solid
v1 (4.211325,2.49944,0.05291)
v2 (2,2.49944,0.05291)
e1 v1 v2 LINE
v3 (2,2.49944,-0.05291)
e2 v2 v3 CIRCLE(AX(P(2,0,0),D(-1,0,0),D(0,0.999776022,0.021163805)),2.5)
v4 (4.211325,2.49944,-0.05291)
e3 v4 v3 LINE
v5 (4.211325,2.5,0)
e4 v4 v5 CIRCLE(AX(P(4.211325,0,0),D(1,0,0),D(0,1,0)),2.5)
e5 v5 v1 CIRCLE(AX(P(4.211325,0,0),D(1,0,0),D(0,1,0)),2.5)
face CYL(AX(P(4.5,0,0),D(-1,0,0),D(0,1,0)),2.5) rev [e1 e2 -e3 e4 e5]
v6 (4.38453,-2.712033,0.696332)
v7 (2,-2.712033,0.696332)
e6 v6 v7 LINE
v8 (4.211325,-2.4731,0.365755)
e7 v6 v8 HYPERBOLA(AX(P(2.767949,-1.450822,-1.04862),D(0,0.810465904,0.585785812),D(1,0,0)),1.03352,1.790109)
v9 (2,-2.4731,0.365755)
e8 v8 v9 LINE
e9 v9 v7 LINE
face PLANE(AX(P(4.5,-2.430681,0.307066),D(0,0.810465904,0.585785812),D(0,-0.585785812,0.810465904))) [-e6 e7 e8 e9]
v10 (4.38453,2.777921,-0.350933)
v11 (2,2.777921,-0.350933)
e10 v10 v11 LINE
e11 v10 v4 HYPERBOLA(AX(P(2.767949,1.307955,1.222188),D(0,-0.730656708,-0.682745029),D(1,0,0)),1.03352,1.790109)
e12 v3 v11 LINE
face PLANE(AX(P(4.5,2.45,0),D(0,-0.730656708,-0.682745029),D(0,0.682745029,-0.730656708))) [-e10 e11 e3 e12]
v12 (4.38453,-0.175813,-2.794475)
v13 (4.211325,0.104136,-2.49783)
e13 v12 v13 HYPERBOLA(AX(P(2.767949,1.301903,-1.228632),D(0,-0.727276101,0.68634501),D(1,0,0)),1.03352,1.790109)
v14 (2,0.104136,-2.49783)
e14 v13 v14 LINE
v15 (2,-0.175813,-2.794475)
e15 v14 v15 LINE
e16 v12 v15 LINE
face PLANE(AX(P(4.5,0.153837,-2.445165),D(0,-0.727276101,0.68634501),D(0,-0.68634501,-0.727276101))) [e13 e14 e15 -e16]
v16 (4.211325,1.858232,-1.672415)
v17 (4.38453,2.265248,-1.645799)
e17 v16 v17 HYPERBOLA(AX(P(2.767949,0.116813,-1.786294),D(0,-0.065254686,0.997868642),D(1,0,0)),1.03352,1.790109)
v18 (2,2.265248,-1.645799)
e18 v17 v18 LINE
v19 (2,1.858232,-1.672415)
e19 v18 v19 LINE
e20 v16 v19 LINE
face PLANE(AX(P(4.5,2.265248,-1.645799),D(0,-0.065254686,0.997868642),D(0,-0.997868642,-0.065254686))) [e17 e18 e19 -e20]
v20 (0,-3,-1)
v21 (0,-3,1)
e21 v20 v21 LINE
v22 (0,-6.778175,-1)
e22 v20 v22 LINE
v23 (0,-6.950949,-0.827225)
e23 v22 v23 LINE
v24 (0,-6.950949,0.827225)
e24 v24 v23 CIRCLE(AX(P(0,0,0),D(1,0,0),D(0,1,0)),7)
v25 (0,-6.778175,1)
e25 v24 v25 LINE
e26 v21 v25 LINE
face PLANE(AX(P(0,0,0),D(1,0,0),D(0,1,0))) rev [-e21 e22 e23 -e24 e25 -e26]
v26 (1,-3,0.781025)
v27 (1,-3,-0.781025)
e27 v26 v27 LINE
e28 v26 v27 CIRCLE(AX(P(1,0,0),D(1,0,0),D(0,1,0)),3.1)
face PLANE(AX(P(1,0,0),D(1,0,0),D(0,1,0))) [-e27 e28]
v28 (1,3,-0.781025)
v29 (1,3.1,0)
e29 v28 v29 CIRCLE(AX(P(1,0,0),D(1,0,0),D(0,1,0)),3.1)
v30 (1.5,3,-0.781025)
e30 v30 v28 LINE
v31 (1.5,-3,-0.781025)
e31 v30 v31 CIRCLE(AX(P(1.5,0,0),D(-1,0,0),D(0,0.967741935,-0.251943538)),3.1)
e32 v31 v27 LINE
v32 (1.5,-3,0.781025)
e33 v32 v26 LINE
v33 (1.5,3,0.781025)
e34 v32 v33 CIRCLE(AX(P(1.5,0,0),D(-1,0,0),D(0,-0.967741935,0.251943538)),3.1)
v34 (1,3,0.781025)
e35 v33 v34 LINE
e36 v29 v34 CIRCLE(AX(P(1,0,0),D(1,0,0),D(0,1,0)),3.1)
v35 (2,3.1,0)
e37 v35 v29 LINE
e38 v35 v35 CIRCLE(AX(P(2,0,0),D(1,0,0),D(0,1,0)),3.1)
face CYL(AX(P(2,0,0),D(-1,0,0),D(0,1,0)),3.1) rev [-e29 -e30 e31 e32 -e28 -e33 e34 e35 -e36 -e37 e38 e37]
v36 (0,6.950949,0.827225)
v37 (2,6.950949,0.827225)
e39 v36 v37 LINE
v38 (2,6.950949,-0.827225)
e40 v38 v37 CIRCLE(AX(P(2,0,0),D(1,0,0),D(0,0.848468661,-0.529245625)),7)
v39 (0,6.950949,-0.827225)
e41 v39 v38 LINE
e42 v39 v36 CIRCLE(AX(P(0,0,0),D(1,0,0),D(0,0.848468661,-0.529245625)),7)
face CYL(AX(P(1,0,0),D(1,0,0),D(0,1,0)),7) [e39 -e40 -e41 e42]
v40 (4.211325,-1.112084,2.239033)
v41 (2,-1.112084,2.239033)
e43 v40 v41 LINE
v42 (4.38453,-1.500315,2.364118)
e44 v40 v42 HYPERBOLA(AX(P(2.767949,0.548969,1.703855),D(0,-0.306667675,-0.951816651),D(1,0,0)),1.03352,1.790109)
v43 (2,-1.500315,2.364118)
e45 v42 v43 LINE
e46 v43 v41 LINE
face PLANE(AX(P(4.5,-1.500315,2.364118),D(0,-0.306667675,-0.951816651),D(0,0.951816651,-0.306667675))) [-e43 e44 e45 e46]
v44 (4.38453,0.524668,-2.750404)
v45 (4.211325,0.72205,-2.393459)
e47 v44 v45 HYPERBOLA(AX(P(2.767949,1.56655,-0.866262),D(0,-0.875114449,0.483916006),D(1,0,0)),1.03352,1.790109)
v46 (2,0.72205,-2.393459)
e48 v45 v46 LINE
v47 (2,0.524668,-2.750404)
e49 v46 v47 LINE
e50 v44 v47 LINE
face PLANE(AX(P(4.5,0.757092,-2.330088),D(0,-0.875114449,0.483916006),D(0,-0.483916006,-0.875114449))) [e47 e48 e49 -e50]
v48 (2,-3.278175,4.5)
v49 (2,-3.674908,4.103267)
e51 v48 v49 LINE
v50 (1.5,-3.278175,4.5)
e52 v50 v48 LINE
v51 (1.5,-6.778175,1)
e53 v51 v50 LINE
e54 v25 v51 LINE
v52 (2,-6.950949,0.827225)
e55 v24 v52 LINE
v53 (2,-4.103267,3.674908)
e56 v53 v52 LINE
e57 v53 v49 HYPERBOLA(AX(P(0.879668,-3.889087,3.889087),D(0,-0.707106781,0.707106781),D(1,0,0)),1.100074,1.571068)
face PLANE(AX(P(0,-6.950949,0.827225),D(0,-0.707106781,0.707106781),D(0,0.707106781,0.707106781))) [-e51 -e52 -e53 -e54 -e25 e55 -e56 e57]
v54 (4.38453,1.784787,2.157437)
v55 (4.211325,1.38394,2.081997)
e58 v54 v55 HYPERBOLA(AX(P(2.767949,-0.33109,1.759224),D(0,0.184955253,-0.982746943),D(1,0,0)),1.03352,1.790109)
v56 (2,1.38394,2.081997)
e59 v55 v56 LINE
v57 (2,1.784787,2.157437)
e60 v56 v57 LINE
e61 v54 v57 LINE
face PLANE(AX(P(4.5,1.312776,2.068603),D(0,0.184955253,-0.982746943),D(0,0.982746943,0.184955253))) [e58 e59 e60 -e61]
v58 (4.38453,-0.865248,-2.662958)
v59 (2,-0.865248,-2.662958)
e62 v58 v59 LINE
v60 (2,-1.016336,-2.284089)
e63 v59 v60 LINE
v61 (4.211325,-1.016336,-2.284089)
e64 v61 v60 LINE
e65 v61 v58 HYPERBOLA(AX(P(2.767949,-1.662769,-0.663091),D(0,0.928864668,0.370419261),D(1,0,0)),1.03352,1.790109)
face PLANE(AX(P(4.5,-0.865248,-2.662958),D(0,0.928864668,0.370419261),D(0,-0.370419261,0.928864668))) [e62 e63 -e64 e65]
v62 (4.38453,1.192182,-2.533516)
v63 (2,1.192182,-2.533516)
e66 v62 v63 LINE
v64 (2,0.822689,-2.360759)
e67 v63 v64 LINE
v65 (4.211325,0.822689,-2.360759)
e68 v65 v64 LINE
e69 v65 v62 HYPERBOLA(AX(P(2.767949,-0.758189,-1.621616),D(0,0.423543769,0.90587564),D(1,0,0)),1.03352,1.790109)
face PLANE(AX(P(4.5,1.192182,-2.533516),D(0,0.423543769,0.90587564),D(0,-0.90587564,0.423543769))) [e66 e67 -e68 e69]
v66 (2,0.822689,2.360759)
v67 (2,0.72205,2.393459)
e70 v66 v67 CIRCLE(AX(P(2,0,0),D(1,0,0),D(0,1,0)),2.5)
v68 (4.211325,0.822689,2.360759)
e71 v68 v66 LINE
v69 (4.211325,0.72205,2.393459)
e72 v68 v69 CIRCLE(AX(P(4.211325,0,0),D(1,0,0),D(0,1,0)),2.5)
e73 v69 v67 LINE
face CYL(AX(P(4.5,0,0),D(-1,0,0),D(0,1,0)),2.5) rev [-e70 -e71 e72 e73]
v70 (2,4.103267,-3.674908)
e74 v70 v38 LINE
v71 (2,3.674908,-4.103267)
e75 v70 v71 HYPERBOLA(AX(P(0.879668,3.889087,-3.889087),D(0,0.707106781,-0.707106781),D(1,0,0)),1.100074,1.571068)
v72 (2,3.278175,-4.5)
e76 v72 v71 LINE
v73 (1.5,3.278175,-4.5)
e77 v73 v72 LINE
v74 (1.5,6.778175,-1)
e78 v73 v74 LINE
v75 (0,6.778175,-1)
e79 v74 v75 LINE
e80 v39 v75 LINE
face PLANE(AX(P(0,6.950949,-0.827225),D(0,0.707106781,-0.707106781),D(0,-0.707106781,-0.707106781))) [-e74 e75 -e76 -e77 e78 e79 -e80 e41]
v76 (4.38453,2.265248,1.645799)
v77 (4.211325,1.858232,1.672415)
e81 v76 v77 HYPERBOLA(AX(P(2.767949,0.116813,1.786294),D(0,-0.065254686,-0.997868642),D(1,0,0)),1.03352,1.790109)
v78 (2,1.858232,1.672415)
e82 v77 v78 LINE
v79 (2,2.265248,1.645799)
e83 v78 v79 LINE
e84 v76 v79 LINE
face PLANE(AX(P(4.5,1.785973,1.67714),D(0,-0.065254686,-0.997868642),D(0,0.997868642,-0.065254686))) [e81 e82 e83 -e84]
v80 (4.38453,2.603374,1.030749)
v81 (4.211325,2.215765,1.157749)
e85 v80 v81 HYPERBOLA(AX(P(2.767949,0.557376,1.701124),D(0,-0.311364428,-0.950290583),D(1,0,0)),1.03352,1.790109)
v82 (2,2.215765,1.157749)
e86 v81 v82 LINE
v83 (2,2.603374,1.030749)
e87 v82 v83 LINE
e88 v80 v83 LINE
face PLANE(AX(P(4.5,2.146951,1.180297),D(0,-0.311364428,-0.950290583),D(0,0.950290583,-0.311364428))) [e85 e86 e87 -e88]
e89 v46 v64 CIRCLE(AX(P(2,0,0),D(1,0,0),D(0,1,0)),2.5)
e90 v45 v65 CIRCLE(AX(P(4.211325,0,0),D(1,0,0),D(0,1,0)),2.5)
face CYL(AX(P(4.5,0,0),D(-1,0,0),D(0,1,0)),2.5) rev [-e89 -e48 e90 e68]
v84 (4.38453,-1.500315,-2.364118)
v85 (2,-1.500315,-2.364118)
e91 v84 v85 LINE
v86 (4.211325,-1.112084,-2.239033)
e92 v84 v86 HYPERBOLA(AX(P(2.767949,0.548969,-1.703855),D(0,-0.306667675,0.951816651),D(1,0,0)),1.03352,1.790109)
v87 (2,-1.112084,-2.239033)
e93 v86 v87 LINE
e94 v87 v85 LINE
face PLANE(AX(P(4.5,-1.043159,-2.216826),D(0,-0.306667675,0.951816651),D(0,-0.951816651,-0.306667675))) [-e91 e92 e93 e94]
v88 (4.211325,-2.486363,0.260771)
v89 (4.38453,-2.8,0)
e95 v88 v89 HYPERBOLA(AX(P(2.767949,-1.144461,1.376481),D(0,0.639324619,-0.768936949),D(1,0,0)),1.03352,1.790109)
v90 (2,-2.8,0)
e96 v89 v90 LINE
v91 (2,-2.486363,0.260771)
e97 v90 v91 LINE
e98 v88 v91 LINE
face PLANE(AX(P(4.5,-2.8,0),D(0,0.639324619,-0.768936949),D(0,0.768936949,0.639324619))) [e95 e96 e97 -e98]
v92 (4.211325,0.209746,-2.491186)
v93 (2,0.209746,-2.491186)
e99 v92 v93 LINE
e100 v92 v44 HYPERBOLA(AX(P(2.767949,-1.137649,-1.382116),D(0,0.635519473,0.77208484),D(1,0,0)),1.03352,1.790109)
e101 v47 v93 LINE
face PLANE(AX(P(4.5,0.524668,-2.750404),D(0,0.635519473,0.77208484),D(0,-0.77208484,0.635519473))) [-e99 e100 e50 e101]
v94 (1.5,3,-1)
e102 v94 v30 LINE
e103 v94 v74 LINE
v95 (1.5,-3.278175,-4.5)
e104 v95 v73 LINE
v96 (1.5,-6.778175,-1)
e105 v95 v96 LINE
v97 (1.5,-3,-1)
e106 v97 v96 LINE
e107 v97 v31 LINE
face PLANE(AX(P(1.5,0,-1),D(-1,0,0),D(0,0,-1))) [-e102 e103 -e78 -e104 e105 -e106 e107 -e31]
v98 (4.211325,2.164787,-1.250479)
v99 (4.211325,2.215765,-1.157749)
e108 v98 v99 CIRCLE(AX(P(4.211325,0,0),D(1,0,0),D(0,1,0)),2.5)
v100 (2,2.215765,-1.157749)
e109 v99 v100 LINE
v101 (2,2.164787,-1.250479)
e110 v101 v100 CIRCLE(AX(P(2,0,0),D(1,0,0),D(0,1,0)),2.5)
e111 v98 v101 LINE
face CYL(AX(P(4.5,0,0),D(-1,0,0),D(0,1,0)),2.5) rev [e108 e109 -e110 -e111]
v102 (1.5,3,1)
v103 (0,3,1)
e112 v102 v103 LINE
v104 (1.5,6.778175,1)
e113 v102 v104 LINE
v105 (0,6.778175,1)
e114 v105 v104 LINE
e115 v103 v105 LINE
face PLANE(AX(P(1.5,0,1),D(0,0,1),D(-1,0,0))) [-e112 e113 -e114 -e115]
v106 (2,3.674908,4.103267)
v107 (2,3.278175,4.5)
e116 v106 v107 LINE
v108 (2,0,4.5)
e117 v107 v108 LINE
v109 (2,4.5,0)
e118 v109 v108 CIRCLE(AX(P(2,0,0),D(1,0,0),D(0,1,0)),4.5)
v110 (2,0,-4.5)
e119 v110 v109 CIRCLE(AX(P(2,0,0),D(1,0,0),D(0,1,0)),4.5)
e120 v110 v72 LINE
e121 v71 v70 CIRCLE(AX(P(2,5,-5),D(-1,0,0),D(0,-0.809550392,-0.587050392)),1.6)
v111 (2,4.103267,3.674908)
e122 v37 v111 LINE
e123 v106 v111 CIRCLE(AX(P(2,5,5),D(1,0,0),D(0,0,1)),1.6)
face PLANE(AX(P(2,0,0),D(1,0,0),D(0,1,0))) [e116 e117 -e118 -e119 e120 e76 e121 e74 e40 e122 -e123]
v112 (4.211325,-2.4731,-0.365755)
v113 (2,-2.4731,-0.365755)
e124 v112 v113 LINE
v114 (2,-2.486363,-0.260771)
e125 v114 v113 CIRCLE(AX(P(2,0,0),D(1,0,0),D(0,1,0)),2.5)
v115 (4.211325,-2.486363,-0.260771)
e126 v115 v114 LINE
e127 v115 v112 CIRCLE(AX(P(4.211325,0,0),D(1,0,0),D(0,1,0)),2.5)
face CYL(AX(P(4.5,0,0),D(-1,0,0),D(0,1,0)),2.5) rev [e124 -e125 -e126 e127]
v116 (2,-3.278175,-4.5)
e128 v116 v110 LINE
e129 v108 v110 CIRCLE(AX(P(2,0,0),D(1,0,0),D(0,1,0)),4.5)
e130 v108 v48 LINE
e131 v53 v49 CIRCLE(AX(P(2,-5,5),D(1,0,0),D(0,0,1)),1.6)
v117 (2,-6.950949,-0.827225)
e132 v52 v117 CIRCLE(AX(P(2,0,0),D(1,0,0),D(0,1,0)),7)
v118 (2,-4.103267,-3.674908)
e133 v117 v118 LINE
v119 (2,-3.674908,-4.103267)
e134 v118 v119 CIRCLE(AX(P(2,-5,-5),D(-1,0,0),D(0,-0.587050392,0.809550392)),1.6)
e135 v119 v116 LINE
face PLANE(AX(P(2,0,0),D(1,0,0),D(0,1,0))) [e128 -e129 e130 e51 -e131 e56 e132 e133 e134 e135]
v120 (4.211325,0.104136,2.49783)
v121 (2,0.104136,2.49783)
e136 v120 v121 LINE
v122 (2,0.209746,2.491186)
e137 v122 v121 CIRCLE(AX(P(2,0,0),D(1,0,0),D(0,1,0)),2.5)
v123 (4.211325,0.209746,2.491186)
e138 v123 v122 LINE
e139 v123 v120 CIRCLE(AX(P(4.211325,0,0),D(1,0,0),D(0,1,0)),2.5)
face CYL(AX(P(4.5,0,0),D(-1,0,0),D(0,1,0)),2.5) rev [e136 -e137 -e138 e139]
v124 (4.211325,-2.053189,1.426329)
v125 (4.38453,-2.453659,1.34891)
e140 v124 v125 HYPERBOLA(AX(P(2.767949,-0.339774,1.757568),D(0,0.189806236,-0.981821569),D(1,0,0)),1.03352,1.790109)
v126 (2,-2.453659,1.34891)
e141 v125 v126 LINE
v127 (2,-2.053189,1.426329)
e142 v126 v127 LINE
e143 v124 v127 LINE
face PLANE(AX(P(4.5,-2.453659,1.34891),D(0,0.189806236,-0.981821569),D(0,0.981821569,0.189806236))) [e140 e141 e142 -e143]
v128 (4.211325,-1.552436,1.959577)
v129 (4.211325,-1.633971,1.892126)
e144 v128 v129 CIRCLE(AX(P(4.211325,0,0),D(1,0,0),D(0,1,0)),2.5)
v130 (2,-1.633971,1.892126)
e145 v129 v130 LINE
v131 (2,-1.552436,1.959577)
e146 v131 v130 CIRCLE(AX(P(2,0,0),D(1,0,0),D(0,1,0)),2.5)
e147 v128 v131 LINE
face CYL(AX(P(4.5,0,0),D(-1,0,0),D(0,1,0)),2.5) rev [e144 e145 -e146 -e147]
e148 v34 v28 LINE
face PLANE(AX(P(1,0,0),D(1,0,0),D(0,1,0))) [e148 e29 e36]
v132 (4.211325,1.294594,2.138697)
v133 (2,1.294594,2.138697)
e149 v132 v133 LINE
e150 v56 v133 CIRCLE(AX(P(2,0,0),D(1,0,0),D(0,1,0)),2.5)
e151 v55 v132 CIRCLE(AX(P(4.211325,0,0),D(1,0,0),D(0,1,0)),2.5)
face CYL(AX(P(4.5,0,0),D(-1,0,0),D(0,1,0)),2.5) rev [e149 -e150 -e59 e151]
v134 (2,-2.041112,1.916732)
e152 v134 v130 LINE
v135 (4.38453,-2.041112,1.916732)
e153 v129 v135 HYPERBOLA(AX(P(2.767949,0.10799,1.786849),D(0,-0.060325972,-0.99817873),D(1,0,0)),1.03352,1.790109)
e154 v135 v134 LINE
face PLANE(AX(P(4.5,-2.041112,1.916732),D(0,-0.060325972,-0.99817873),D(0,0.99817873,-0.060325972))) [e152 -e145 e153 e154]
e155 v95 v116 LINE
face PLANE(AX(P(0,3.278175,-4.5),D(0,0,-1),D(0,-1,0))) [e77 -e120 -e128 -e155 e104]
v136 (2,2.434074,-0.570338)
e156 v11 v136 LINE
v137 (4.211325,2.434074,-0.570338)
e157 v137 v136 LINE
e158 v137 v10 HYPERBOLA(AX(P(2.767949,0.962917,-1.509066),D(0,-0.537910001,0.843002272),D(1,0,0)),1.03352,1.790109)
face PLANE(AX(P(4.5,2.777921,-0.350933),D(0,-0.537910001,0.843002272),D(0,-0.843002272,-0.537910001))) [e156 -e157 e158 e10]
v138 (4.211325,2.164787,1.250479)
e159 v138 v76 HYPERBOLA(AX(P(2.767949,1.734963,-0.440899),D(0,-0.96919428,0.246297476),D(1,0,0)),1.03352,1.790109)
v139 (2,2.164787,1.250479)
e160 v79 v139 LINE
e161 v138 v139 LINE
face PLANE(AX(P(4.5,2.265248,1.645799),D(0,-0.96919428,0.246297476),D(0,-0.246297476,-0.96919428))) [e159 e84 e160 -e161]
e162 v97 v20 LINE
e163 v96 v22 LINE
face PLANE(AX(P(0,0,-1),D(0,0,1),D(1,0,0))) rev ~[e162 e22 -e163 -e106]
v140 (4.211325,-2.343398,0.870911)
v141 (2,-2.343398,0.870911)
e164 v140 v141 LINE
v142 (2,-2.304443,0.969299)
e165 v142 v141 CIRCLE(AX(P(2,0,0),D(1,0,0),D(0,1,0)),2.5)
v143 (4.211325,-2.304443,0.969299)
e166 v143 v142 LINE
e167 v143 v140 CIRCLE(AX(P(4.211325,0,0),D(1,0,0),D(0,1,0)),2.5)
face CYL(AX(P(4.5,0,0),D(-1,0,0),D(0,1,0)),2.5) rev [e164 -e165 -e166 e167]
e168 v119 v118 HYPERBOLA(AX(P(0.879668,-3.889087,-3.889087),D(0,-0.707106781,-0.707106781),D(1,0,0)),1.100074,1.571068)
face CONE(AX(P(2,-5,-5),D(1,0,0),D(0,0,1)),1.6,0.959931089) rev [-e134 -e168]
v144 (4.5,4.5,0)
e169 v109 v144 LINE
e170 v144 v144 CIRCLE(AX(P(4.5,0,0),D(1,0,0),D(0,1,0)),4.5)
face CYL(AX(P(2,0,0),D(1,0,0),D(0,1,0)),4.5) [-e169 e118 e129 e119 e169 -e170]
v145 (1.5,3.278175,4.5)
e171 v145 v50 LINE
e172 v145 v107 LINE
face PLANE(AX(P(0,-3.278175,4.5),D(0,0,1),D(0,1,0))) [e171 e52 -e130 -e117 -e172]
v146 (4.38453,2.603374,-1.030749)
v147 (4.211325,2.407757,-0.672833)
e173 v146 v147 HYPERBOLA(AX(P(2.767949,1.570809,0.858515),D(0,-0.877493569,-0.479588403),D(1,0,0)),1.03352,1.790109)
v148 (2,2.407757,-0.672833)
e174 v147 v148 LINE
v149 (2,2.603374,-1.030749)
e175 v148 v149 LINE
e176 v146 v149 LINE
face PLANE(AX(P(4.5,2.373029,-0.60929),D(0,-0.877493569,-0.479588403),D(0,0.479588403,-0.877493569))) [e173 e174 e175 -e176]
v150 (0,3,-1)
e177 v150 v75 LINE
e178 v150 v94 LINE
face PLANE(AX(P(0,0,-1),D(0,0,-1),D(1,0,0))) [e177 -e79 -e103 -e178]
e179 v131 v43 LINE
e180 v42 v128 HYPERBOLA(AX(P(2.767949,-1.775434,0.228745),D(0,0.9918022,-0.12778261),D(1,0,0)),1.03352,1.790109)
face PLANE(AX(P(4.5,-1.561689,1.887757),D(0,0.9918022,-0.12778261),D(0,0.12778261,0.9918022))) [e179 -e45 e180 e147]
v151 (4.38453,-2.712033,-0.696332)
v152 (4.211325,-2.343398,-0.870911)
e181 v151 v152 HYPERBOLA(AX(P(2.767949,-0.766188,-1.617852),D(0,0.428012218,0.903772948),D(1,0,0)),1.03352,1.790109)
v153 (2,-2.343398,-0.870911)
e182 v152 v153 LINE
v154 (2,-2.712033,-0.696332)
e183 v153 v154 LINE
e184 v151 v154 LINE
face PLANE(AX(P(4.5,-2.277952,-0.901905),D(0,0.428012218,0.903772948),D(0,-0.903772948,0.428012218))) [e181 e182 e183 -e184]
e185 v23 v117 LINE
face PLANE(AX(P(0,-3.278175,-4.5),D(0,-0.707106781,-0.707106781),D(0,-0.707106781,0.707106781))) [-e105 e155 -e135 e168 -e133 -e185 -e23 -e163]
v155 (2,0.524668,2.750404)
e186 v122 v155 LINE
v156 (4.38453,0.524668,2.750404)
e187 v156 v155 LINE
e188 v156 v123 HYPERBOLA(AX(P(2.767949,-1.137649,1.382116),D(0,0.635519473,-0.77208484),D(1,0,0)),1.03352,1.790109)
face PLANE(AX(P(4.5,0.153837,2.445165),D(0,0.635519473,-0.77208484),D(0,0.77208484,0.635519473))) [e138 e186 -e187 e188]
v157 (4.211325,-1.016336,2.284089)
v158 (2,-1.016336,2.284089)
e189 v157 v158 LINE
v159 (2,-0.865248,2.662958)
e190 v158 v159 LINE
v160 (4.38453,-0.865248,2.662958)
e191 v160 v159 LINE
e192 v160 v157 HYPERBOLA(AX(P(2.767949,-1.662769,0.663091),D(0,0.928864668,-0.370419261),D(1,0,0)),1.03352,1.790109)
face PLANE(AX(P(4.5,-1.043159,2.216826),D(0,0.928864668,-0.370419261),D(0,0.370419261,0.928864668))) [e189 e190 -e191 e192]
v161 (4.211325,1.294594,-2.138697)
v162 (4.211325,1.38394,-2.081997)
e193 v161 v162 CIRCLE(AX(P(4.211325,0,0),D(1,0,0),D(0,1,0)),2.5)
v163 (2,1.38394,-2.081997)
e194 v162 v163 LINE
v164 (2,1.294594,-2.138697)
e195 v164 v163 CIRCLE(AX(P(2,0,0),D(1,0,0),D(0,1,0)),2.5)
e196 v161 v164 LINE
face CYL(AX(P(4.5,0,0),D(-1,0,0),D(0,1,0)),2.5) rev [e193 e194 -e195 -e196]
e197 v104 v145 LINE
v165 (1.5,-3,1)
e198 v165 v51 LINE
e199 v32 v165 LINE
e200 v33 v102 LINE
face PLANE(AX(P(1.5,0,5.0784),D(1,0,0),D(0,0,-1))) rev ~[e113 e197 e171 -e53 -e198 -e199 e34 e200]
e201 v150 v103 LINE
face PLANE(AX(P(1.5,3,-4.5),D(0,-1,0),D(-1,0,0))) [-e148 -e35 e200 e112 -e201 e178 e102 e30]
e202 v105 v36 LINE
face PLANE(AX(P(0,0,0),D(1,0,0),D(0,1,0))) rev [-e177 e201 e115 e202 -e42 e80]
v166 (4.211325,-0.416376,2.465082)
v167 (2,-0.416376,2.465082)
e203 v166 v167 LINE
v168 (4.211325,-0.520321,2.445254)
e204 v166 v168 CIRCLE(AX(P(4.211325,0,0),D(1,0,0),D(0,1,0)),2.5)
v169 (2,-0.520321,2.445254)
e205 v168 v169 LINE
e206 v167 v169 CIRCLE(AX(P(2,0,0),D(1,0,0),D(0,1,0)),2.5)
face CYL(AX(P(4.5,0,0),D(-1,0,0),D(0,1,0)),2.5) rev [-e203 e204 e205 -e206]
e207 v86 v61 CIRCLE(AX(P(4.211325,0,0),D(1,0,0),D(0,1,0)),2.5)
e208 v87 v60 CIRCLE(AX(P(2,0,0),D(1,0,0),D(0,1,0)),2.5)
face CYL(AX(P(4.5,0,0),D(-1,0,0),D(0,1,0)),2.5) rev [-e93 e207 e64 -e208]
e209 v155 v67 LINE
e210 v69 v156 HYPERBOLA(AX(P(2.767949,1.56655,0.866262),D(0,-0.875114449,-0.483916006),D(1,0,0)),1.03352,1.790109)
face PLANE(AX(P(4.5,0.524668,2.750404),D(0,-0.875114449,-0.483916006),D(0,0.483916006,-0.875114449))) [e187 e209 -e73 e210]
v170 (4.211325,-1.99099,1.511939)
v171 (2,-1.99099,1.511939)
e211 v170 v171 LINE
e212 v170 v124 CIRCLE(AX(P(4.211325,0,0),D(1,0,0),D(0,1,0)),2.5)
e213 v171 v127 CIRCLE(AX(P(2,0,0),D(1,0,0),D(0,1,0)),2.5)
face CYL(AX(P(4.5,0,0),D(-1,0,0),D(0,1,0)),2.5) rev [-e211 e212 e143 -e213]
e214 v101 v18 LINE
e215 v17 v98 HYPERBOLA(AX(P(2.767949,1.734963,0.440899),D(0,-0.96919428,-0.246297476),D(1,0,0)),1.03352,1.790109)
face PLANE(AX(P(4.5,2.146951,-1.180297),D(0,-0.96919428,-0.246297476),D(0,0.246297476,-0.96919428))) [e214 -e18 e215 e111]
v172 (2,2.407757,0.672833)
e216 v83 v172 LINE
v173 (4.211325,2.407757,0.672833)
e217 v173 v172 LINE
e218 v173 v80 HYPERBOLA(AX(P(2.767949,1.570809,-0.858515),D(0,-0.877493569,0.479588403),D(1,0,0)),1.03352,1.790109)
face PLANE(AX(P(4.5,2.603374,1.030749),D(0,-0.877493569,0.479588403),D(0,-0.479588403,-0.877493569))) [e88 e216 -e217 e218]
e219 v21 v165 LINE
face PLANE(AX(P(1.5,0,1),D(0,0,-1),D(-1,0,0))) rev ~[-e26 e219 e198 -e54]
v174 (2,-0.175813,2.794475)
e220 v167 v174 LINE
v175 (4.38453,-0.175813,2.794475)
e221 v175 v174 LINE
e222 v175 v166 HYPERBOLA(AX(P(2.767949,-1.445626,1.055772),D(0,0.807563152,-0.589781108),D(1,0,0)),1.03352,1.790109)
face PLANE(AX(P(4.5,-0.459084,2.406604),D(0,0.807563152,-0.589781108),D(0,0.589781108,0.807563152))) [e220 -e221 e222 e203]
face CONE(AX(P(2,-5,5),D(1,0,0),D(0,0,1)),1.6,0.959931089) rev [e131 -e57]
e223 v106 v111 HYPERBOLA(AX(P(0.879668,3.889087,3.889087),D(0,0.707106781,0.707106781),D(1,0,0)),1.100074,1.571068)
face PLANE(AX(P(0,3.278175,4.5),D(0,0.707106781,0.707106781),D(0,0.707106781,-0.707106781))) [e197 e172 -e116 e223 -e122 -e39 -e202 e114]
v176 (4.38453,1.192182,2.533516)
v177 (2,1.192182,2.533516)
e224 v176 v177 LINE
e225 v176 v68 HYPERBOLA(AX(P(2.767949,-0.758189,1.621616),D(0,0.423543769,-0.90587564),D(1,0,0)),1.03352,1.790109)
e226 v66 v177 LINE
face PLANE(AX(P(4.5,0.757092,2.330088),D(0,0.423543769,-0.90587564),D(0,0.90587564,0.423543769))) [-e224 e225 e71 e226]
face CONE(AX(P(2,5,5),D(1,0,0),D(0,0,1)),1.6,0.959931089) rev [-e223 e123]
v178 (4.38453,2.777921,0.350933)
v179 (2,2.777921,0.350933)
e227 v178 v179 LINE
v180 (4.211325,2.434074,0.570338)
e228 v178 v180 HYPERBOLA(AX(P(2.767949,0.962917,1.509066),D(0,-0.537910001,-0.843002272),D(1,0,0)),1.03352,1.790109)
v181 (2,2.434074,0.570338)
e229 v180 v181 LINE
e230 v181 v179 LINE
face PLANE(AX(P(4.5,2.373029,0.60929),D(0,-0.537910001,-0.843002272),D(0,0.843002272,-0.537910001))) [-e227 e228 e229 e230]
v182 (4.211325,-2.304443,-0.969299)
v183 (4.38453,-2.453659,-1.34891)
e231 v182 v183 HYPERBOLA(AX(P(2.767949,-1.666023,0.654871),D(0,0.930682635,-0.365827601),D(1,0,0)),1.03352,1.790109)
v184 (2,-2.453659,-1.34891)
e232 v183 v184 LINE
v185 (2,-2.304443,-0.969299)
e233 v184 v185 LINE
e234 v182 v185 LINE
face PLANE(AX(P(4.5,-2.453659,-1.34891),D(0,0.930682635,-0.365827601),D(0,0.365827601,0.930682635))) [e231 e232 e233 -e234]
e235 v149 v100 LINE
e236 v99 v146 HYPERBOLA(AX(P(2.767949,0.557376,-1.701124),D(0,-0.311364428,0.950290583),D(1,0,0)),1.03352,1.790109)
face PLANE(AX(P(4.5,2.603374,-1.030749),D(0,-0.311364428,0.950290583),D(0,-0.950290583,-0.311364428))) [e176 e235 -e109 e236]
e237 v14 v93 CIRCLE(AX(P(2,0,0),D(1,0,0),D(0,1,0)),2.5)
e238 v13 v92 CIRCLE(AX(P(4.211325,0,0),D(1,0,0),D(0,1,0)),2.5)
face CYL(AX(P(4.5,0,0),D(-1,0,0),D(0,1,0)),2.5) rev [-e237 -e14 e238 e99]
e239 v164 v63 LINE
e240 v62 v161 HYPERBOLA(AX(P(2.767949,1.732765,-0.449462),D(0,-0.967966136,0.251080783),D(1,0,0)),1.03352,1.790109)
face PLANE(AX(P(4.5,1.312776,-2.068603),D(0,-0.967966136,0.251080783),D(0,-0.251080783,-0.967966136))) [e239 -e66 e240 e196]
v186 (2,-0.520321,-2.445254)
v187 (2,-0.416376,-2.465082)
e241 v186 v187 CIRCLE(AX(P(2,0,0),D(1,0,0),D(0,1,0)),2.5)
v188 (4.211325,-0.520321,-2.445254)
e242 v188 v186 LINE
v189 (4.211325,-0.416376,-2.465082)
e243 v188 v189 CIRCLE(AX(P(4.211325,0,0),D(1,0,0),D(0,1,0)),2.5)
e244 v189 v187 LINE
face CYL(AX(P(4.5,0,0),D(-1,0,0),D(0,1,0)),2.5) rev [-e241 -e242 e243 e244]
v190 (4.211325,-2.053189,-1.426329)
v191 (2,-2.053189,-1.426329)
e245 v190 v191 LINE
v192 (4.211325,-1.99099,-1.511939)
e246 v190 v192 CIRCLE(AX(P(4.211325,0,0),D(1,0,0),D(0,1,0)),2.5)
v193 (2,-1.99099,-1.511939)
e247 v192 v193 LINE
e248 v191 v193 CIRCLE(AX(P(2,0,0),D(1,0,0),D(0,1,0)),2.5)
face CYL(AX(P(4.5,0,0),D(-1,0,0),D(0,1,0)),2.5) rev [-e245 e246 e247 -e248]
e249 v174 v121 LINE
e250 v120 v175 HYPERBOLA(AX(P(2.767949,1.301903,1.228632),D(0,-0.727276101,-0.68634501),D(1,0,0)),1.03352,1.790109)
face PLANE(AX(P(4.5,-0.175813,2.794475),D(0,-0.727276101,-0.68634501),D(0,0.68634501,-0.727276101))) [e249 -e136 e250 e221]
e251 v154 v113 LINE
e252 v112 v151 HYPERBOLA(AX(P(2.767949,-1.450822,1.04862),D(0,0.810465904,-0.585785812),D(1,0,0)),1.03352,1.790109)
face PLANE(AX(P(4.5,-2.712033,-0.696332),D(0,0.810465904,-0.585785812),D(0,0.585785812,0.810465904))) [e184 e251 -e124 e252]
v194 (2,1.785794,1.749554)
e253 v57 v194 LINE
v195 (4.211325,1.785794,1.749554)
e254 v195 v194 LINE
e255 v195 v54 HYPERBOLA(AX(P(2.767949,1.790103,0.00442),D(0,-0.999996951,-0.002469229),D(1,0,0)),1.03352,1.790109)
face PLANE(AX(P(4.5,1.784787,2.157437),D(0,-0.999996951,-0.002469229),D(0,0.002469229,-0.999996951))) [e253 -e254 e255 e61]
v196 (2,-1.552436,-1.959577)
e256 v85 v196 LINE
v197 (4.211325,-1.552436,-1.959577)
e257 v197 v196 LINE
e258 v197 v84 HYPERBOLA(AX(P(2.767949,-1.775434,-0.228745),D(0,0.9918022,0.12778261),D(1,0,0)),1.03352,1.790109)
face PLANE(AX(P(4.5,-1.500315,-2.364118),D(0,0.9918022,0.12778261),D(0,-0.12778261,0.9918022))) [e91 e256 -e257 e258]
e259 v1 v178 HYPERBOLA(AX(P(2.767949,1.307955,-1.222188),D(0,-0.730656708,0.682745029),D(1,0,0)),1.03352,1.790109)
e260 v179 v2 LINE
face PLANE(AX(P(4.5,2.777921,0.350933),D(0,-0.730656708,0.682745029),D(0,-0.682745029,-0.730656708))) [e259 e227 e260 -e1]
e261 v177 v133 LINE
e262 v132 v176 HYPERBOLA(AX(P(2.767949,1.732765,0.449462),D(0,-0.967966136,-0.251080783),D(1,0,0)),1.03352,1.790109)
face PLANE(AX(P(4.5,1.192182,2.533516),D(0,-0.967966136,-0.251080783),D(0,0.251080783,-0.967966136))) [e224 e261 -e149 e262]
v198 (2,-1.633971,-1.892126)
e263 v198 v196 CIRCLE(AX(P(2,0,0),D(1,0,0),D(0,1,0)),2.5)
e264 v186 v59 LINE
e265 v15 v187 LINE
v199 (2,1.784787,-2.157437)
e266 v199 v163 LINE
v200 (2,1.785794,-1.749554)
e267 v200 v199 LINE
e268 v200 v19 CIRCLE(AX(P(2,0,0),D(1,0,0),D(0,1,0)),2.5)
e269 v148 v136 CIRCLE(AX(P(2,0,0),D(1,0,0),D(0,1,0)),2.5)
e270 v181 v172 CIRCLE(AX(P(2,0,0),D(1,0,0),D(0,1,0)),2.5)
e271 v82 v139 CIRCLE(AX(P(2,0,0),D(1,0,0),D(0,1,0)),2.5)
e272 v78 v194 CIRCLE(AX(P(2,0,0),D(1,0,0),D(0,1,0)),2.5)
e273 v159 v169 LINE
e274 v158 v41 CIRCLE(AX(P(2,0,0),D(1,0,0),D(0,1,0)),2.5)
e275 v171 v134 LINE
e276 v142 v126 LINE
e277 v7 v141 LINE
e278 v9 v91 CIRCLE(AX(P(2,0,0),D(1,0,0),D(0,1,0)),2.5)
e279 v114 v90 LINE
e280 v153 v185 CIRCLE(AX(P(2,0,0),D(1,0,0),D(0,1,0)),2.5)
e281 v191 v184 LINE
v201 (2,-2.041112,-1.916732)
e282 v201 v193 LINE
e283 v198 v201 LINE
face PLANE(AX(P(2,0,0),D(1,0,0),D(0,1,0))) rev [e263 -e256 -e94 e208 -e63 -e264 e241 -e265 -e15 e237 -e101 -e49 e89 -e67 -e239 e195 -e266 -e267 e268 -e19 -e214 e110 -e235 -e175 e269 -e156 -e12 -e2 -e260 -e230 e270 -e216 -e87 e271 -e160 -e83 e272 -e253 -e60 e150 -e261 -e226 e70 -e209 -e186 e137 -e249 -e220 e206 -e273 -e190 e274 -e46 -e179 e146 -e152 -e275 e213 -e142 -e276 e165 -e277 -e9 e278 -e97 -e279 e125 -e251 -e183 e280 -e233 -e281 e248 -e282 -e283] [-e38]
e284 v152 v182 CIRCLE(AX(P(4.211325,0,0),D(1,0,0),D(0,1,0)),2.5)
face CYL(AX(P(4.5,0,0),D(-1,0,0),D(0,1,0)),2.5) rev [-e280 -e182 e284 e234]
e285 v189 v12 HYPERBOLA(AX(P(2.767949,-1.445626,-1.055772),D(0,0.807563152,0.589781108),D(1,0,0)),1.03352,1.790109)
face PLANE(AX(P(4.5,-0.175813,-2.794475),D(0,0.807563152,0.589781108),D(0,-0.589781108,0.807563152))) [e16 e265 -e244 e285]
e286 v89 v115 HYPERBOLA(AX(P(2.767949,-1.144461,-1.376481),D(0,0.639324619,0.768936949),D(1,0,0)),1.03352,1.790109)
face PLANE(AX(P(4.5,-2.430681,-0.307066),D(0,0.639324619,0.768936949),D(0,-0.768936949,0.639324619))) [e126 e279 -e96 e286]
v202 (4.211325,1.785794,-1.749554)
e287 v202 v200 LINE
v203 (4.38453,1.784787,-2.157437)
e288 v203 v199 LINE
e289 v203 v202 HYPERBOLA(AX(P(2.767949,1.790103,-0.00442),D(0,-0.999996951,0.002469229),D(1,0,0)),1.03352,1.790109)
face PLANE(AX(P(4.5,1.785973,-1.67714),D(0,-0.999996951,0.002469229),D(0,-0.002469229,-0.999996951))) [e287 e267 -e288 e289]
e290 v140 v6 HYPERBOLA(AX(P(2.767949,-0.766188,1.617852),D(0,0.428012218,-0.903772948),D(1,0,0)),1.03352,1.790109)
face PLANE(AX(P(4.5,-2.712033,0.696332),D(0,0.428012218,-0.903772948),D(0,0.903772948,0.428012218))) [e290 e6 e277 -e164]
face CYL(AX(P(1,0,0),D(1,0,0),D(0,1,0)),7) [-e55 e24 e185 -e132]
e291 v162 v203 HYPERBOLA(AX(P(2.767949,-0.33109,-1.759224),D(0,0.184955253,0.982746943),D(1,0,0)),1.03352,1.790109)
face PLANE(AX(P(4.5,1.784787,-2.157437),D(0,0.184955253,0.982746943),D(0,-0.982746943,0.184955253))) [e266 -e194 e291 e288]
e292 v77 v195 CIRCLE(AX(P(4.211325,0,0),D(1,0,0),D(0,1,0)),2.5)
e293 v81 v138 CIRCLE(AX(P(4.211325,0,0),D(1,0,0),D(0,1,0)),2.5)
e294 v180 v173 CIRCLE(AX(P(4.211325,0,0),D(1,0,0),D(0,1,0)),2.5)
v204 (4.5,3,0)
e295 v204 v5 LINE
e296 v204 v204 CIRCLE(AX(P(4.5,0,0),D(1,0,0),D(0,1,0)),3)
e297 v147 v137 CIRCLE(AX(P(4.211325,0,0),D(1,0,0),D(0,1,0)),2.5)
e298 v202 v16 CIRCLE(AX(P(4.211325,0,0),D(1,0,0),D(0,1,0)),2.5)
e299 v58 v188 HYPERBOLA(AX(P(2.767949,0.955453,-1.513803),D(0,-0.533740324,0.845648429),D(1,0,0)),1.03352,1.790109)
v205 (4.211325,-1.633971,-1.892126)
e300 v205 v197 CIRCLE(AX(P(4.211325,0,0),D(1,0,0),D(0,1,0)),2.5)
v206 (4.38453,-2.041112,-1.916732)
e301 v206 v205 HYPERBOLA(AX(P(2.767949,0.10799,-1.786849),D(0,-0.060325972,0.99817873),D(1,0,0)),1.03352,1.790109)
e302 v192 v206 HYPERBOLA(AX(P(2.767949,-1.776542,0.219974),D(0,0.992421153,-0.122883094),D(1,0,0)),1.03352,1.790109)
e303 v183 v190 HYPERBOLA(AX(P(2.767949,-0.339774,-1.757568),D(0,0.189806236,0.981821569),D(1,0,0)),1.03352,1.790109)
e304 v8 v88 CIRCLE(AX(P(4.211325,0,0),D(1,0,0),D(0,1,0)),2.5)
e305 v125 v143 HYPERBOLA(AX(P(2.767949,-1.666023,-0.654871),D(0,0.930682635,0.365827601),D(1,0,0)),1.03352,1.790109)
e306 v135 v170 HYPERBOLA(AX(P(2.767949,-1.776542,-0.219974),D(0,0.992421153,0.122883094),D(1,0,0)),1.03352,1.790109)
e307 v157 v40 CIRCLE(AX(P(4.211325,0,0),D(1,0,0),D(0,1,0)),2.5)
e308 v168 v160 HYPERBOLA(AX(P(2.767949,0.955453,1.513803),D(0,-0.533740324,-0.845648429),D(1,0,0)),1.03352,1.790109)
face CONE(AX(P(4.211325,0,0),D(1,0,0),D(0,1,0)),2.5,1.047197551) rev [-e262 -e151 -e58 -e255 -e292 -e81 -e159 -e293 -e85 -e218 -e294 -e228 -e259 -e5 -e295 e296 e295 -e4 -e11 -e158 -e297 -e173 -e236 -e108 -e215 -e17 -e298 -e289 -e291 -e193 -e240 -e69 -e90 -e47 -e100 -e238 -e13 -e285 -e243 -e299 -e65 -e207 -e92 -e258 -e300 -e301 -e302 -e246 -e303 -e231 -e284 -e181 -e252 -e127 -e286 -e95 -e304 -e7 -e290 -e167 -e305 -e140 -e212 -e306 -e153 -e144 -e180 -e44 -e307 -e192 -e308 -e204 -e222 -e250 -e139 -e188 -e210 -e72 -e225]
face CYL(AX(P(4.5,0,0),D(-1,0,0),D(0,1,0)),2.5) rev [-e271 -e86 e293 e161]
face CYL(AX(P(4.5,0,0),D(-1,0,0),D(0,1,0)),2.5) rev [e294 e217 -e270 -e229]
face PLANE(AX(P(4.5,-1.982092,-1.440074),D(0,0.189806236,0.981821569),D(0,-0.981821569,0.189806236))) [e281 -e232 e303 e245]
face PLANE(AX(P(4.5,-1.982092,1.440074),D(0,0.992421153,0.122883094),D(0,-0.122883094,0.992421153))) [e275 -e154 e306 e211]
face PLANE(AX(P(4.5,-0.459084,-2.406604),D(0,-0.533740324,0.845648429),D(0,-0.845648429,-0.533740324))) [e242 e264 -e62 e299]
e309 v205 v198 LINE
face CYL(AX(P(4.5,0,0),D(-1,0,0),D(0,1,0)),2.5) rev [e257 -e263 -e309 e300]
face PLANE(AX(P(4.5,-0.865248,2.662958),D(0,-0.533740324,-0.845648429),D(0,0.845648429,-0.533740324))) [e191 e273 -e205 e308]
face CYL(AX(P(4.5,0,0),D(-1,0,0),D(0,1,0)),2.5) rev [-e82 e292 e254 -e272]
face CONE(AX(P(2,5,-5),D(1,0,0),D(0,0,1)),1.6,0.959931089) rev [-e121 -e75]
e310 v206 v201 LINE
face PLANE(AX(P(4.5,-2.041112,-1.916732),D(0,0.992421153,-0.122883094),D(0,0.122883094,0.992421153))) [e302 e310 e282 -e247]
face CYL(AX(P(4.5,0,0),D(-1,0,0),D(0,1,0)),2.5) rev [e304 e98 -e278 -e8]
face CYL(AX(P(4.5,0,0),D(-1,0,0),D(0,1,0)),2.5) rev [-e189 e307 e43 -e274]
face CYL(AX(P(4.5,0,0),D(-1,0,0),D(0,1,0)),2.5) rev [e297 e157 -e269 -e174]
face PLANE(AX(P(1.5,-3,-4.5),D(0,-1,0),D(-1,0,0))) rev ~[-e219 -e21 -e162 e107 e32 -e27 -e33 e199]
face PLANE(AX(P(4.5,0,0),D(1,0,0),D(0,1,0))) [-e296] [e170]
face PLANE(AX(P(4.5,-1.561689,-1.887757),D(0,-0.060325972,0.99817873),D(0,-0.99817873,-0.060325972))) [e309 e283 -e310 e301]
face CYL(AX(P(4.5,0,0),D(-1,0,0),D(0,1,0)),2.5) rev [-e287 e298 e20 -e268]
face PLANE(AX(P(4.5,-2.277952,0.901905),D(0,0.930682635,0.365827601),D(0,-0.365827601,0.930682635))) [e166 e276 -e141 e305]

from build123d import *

# Parameters (mm, degrees)
CHAMFER_1_SIZE           = 0.5
CHAMFER_1_SIZE2          = 0.288675135
CUT_EXTRUDE_1_DEPTH      = 2.5
M3X0_51_AT_2_COUNT       = 2
M3X0_51_AT_2_PITCH       = 10
M3X0_51_AT_3_COUNT       = 2
M3X0_51_AT_3_PITCH       = 14.142135624
M3X0_51_AT_4_COUNT       = 2
M3X0_51_AT_4_PITCH       = 10
SKETCH_7_W               = 2
SKETCH_7_H               = 3
SKETCH_8_OUTSIDE_W       = 20.06
SKETCH_8_OUTSIDE_H       = 20.06
CUT_EXTRUDE_2_DEPTH      = 2.2
SKETCH_9_W               = 1.5
SKETCH_9_H               = 6
CUT_EXTRUDE_3_DEPTH      = 10
CUT_EXTRUDE_4_DEPTH      = 8
CUT_EXTRUDE_4_DEPTH_BACK = 8


with BuildPart() as part:
    # Эскиз1 → Повернуть1 (revolve)
    with BuildSketch(Plane.XY):
        Polygon((0, 1.5), (0, 10), (2, 10), (2, 4.5), (4.5, 4.5), (4.5, 2.5), (2, 2.5), (2, 3.1), (1, 3.1), (1, 1.5), align=None)
    revolve(axis=Axis((0, 0, 0), (1, 0, 0)))

    # Фаска1
    chamfer_1_edges = [part.edges().sort_by_distance(p)[0] for p in [
        (4.5, -2.5, 0),
    ]]
    chamfer_1_side = [part.faces().sort_by_distance(p)[0] for p in [
        (4.5, -4.372720779, 0),
    ]]
    chamfer(chamfer_1_edges, length=CHAMFER_1_SIZE, length2=CHAMFER_1_SIZE2, reference=chamfer_1_side[0])

    # Эскиз3 → Вырез-Вытянуть1 (cut)
    with BuildSketch(Plane(origin=(4.5, 0, 0), x_dir=(0, 0, -1), z_dir=(1, 0, 0))):
        Polygon((0, 2.45), (0.350933054, 2.777921164), (0.609290224, 2.373028745), (1.030748748, 2.60337416), (1.180296502, 2.146951366), (1.645798706, 2.265247584), (1.67714041, 1.785973137), (2.15743708, 1.784787171), (2.068603417, 1.312775648), (2.533515747, 1.192182016), (2.330088465, 0.757091636), (2.750404302, 0.524667681), (2.445165485, 0.153836773), (2.79447484, -0.175813455), (2.406603764, -0.459084221), (2.662958246, -0.865247584), (2.216826279, -1.043159264), (2.364118191, -1.500315026), (1.887757445, -1.561688775), (1.916731897, -2.041112157), (1.440073868, -1.982091636), (1.348910287, -2.453658704), (0.901905154, -2.27795239), (0.696331684, -2.712032851), (0.307066422, -2.430681018), (0, -2.8), (-0.307066422, -2.430681018), (-0.696331684, -2.712032851), (-0.901905154, -2.27795239), (-1.348910287, -2.453658704), (-1.440073868, -1.982091636), (-1.916731897, -2.041112157), (-1.887757445, -1.561688775), (-2.364118191, -1.500315026), (-2.216826279, -1.043159264), (-2.662958246, -0.865247584), (-2.406603764, -0.459084221), (-2.79447484, -0.175813455), (-2.445165485, 0.153836773), (-2.750404302, 0.524667681), (-2.330088465, 0.757091636), (-2.533515747, 1.192182016), (-2.068603417, 1.312775648), (-2.15743708, 1.784787171), (-1.67714041, 1.785973137), (-1.645798706, 2.265247584), (-1.180296502, 2.146951366), (-1.030748748, 2.60337416), (-0.609290224, 2.373028745), (-0.350933054, 2.777921164), align=None)
    extrude(amount=-CUT_EXTRUDE_1_DEPTH, mode=Mode.SUBTRACT)

    # Эскиз6 → Отверстие обработанное метчиком M3x0.51 (revolve, cut)
    with BuildSketch(Plane(origin=(0, 5, -5), x_dir=(0, 0, 1), z_dir=(0, 1, 0))):
        Polygon((0, 0), (0, 2), (1.6, 2), (1.25, 1.754927362), (1.25, 0.245072638), (1.6, 0), align=None)
    m3x0_51 = revolve(axis=Axis((-6.35, 5, -5), (1, 0, 0)), mode=Mode.SUBTRACT)

    # Отверстие обработанное метчиком M3x0.51 at 2: Отверстие обработанное метчиком M3x0.51 ×2
    with Locations(*[(0, 0, i * M3X0_51_AT_2_PITCH) for i in range(1, M3X0_51_AT_2_COUNT)]):
        add(m3x0_51, mode=Mode.SUBTRACT)

    # Отверстие обработанное метчиком M3x0.51 at 3: Отверстие обработанное метчиком M3x0.51 ×2
    with Locations(*[Vector(0, -0.707106781, 0.707106781) * (i * M3X0_51_AT_3_PITCH) for i in range(1, M3X0_51_AT_3_COUNT)]):
        add(m3x0_51, mode=Mode.SUBTRACT)

    # Отверстие обработанное метчиком M3x0.51 at 4: Отверстие обработанное метчиком M3x0.51 ×2
    with Locations(*[(0, -i * M3X0_51_AT_4_PITCH, 0) for i in range(1, M3X0_51_AT_4_COUNT)]):
        add(m3x0_51, mode=Mode.SUBTRACT)

    # Эскиз7 → Вырез-Повернуть1 (revolve, cut)
    with BuildSketch(Plane.XY):
        with Locations((1, 8.5)):
            Rectangle(SKETCH_7_W, SKETCH_7_H)
    revolve(axis=Axis((0, 0, 0), (1, 0, 0)), mode=Mode.SUBTRACT)

    # Эскиз8 outside → Вырез-Вытянуть2 (cut)
    with BuildSketch(Plane.ZY):
        Rectangle(SKETCH_8_OUTSIDE_W, SKETCH_8_OUTSIDE_H)
        Polygon((-0.827225118, 6.950949475), (-4.5, 3.278174593), (-4.5, -3.278174593), (-0.827225118, -6.950949475), (-0.827225118, -8.301176924), (0.827225118, -8.301176924), (0.827225118, -6.950949475), (4.5, -3.278174593), (4.5, 3.278174593), (0.827225118, 6.950949475), (0.827225118, 9.049308712), (-0.827225118, 9.049308712), align=None, mode=Mode.SUBTRACT)
    extrude(amount=-CUT_EXTRUDE_2_DEPTH, mode=Mode.SUBTRACT)

    # Эскиз9 → Вырез-Вытянуть3 (cut, through all)
    with BuildSketch(Plane(origin=(0, 0, -4.5), x_dir=(-1, 0, 0), z_dir=(0, 0, -1))):
        with Locations((-0.75, 0)):
            Rectangle(SKETCH_9_W, SKETCH_9_H)
    extrude(amount=-CUT_EXTRUDE_3_DEPTH, mode=Mode.SUBTRACT)

    # Эскиз10 → Вырез-Вытянуть4 (cut, two sides)
    with BuildSketch(Plane(origin=(0, 0, 0), x_dir=(1, 0, 0), z_dir=(0, 1, 0))) as cut_extrude_4_sk:
        Polygon((0, -1), (0, 1), (1.5, 1), (1.5, 5.512863142), (-0.606676523, 5.512863142), (-0.606676523, -5.078399816), (1.5, -5.078399816), (1.5, -1), align=None)
    extrude(amount=CUT_EXTRUDE_4_DEPTH, mode=Mode.SUBTRACT)
    extrude(cut_extrude_4_sk.sketch, amount=-CUT_EXTRUDE_4_DEPTH_BACK, mode=Mode.SUBTRACT)


solid = part.part
